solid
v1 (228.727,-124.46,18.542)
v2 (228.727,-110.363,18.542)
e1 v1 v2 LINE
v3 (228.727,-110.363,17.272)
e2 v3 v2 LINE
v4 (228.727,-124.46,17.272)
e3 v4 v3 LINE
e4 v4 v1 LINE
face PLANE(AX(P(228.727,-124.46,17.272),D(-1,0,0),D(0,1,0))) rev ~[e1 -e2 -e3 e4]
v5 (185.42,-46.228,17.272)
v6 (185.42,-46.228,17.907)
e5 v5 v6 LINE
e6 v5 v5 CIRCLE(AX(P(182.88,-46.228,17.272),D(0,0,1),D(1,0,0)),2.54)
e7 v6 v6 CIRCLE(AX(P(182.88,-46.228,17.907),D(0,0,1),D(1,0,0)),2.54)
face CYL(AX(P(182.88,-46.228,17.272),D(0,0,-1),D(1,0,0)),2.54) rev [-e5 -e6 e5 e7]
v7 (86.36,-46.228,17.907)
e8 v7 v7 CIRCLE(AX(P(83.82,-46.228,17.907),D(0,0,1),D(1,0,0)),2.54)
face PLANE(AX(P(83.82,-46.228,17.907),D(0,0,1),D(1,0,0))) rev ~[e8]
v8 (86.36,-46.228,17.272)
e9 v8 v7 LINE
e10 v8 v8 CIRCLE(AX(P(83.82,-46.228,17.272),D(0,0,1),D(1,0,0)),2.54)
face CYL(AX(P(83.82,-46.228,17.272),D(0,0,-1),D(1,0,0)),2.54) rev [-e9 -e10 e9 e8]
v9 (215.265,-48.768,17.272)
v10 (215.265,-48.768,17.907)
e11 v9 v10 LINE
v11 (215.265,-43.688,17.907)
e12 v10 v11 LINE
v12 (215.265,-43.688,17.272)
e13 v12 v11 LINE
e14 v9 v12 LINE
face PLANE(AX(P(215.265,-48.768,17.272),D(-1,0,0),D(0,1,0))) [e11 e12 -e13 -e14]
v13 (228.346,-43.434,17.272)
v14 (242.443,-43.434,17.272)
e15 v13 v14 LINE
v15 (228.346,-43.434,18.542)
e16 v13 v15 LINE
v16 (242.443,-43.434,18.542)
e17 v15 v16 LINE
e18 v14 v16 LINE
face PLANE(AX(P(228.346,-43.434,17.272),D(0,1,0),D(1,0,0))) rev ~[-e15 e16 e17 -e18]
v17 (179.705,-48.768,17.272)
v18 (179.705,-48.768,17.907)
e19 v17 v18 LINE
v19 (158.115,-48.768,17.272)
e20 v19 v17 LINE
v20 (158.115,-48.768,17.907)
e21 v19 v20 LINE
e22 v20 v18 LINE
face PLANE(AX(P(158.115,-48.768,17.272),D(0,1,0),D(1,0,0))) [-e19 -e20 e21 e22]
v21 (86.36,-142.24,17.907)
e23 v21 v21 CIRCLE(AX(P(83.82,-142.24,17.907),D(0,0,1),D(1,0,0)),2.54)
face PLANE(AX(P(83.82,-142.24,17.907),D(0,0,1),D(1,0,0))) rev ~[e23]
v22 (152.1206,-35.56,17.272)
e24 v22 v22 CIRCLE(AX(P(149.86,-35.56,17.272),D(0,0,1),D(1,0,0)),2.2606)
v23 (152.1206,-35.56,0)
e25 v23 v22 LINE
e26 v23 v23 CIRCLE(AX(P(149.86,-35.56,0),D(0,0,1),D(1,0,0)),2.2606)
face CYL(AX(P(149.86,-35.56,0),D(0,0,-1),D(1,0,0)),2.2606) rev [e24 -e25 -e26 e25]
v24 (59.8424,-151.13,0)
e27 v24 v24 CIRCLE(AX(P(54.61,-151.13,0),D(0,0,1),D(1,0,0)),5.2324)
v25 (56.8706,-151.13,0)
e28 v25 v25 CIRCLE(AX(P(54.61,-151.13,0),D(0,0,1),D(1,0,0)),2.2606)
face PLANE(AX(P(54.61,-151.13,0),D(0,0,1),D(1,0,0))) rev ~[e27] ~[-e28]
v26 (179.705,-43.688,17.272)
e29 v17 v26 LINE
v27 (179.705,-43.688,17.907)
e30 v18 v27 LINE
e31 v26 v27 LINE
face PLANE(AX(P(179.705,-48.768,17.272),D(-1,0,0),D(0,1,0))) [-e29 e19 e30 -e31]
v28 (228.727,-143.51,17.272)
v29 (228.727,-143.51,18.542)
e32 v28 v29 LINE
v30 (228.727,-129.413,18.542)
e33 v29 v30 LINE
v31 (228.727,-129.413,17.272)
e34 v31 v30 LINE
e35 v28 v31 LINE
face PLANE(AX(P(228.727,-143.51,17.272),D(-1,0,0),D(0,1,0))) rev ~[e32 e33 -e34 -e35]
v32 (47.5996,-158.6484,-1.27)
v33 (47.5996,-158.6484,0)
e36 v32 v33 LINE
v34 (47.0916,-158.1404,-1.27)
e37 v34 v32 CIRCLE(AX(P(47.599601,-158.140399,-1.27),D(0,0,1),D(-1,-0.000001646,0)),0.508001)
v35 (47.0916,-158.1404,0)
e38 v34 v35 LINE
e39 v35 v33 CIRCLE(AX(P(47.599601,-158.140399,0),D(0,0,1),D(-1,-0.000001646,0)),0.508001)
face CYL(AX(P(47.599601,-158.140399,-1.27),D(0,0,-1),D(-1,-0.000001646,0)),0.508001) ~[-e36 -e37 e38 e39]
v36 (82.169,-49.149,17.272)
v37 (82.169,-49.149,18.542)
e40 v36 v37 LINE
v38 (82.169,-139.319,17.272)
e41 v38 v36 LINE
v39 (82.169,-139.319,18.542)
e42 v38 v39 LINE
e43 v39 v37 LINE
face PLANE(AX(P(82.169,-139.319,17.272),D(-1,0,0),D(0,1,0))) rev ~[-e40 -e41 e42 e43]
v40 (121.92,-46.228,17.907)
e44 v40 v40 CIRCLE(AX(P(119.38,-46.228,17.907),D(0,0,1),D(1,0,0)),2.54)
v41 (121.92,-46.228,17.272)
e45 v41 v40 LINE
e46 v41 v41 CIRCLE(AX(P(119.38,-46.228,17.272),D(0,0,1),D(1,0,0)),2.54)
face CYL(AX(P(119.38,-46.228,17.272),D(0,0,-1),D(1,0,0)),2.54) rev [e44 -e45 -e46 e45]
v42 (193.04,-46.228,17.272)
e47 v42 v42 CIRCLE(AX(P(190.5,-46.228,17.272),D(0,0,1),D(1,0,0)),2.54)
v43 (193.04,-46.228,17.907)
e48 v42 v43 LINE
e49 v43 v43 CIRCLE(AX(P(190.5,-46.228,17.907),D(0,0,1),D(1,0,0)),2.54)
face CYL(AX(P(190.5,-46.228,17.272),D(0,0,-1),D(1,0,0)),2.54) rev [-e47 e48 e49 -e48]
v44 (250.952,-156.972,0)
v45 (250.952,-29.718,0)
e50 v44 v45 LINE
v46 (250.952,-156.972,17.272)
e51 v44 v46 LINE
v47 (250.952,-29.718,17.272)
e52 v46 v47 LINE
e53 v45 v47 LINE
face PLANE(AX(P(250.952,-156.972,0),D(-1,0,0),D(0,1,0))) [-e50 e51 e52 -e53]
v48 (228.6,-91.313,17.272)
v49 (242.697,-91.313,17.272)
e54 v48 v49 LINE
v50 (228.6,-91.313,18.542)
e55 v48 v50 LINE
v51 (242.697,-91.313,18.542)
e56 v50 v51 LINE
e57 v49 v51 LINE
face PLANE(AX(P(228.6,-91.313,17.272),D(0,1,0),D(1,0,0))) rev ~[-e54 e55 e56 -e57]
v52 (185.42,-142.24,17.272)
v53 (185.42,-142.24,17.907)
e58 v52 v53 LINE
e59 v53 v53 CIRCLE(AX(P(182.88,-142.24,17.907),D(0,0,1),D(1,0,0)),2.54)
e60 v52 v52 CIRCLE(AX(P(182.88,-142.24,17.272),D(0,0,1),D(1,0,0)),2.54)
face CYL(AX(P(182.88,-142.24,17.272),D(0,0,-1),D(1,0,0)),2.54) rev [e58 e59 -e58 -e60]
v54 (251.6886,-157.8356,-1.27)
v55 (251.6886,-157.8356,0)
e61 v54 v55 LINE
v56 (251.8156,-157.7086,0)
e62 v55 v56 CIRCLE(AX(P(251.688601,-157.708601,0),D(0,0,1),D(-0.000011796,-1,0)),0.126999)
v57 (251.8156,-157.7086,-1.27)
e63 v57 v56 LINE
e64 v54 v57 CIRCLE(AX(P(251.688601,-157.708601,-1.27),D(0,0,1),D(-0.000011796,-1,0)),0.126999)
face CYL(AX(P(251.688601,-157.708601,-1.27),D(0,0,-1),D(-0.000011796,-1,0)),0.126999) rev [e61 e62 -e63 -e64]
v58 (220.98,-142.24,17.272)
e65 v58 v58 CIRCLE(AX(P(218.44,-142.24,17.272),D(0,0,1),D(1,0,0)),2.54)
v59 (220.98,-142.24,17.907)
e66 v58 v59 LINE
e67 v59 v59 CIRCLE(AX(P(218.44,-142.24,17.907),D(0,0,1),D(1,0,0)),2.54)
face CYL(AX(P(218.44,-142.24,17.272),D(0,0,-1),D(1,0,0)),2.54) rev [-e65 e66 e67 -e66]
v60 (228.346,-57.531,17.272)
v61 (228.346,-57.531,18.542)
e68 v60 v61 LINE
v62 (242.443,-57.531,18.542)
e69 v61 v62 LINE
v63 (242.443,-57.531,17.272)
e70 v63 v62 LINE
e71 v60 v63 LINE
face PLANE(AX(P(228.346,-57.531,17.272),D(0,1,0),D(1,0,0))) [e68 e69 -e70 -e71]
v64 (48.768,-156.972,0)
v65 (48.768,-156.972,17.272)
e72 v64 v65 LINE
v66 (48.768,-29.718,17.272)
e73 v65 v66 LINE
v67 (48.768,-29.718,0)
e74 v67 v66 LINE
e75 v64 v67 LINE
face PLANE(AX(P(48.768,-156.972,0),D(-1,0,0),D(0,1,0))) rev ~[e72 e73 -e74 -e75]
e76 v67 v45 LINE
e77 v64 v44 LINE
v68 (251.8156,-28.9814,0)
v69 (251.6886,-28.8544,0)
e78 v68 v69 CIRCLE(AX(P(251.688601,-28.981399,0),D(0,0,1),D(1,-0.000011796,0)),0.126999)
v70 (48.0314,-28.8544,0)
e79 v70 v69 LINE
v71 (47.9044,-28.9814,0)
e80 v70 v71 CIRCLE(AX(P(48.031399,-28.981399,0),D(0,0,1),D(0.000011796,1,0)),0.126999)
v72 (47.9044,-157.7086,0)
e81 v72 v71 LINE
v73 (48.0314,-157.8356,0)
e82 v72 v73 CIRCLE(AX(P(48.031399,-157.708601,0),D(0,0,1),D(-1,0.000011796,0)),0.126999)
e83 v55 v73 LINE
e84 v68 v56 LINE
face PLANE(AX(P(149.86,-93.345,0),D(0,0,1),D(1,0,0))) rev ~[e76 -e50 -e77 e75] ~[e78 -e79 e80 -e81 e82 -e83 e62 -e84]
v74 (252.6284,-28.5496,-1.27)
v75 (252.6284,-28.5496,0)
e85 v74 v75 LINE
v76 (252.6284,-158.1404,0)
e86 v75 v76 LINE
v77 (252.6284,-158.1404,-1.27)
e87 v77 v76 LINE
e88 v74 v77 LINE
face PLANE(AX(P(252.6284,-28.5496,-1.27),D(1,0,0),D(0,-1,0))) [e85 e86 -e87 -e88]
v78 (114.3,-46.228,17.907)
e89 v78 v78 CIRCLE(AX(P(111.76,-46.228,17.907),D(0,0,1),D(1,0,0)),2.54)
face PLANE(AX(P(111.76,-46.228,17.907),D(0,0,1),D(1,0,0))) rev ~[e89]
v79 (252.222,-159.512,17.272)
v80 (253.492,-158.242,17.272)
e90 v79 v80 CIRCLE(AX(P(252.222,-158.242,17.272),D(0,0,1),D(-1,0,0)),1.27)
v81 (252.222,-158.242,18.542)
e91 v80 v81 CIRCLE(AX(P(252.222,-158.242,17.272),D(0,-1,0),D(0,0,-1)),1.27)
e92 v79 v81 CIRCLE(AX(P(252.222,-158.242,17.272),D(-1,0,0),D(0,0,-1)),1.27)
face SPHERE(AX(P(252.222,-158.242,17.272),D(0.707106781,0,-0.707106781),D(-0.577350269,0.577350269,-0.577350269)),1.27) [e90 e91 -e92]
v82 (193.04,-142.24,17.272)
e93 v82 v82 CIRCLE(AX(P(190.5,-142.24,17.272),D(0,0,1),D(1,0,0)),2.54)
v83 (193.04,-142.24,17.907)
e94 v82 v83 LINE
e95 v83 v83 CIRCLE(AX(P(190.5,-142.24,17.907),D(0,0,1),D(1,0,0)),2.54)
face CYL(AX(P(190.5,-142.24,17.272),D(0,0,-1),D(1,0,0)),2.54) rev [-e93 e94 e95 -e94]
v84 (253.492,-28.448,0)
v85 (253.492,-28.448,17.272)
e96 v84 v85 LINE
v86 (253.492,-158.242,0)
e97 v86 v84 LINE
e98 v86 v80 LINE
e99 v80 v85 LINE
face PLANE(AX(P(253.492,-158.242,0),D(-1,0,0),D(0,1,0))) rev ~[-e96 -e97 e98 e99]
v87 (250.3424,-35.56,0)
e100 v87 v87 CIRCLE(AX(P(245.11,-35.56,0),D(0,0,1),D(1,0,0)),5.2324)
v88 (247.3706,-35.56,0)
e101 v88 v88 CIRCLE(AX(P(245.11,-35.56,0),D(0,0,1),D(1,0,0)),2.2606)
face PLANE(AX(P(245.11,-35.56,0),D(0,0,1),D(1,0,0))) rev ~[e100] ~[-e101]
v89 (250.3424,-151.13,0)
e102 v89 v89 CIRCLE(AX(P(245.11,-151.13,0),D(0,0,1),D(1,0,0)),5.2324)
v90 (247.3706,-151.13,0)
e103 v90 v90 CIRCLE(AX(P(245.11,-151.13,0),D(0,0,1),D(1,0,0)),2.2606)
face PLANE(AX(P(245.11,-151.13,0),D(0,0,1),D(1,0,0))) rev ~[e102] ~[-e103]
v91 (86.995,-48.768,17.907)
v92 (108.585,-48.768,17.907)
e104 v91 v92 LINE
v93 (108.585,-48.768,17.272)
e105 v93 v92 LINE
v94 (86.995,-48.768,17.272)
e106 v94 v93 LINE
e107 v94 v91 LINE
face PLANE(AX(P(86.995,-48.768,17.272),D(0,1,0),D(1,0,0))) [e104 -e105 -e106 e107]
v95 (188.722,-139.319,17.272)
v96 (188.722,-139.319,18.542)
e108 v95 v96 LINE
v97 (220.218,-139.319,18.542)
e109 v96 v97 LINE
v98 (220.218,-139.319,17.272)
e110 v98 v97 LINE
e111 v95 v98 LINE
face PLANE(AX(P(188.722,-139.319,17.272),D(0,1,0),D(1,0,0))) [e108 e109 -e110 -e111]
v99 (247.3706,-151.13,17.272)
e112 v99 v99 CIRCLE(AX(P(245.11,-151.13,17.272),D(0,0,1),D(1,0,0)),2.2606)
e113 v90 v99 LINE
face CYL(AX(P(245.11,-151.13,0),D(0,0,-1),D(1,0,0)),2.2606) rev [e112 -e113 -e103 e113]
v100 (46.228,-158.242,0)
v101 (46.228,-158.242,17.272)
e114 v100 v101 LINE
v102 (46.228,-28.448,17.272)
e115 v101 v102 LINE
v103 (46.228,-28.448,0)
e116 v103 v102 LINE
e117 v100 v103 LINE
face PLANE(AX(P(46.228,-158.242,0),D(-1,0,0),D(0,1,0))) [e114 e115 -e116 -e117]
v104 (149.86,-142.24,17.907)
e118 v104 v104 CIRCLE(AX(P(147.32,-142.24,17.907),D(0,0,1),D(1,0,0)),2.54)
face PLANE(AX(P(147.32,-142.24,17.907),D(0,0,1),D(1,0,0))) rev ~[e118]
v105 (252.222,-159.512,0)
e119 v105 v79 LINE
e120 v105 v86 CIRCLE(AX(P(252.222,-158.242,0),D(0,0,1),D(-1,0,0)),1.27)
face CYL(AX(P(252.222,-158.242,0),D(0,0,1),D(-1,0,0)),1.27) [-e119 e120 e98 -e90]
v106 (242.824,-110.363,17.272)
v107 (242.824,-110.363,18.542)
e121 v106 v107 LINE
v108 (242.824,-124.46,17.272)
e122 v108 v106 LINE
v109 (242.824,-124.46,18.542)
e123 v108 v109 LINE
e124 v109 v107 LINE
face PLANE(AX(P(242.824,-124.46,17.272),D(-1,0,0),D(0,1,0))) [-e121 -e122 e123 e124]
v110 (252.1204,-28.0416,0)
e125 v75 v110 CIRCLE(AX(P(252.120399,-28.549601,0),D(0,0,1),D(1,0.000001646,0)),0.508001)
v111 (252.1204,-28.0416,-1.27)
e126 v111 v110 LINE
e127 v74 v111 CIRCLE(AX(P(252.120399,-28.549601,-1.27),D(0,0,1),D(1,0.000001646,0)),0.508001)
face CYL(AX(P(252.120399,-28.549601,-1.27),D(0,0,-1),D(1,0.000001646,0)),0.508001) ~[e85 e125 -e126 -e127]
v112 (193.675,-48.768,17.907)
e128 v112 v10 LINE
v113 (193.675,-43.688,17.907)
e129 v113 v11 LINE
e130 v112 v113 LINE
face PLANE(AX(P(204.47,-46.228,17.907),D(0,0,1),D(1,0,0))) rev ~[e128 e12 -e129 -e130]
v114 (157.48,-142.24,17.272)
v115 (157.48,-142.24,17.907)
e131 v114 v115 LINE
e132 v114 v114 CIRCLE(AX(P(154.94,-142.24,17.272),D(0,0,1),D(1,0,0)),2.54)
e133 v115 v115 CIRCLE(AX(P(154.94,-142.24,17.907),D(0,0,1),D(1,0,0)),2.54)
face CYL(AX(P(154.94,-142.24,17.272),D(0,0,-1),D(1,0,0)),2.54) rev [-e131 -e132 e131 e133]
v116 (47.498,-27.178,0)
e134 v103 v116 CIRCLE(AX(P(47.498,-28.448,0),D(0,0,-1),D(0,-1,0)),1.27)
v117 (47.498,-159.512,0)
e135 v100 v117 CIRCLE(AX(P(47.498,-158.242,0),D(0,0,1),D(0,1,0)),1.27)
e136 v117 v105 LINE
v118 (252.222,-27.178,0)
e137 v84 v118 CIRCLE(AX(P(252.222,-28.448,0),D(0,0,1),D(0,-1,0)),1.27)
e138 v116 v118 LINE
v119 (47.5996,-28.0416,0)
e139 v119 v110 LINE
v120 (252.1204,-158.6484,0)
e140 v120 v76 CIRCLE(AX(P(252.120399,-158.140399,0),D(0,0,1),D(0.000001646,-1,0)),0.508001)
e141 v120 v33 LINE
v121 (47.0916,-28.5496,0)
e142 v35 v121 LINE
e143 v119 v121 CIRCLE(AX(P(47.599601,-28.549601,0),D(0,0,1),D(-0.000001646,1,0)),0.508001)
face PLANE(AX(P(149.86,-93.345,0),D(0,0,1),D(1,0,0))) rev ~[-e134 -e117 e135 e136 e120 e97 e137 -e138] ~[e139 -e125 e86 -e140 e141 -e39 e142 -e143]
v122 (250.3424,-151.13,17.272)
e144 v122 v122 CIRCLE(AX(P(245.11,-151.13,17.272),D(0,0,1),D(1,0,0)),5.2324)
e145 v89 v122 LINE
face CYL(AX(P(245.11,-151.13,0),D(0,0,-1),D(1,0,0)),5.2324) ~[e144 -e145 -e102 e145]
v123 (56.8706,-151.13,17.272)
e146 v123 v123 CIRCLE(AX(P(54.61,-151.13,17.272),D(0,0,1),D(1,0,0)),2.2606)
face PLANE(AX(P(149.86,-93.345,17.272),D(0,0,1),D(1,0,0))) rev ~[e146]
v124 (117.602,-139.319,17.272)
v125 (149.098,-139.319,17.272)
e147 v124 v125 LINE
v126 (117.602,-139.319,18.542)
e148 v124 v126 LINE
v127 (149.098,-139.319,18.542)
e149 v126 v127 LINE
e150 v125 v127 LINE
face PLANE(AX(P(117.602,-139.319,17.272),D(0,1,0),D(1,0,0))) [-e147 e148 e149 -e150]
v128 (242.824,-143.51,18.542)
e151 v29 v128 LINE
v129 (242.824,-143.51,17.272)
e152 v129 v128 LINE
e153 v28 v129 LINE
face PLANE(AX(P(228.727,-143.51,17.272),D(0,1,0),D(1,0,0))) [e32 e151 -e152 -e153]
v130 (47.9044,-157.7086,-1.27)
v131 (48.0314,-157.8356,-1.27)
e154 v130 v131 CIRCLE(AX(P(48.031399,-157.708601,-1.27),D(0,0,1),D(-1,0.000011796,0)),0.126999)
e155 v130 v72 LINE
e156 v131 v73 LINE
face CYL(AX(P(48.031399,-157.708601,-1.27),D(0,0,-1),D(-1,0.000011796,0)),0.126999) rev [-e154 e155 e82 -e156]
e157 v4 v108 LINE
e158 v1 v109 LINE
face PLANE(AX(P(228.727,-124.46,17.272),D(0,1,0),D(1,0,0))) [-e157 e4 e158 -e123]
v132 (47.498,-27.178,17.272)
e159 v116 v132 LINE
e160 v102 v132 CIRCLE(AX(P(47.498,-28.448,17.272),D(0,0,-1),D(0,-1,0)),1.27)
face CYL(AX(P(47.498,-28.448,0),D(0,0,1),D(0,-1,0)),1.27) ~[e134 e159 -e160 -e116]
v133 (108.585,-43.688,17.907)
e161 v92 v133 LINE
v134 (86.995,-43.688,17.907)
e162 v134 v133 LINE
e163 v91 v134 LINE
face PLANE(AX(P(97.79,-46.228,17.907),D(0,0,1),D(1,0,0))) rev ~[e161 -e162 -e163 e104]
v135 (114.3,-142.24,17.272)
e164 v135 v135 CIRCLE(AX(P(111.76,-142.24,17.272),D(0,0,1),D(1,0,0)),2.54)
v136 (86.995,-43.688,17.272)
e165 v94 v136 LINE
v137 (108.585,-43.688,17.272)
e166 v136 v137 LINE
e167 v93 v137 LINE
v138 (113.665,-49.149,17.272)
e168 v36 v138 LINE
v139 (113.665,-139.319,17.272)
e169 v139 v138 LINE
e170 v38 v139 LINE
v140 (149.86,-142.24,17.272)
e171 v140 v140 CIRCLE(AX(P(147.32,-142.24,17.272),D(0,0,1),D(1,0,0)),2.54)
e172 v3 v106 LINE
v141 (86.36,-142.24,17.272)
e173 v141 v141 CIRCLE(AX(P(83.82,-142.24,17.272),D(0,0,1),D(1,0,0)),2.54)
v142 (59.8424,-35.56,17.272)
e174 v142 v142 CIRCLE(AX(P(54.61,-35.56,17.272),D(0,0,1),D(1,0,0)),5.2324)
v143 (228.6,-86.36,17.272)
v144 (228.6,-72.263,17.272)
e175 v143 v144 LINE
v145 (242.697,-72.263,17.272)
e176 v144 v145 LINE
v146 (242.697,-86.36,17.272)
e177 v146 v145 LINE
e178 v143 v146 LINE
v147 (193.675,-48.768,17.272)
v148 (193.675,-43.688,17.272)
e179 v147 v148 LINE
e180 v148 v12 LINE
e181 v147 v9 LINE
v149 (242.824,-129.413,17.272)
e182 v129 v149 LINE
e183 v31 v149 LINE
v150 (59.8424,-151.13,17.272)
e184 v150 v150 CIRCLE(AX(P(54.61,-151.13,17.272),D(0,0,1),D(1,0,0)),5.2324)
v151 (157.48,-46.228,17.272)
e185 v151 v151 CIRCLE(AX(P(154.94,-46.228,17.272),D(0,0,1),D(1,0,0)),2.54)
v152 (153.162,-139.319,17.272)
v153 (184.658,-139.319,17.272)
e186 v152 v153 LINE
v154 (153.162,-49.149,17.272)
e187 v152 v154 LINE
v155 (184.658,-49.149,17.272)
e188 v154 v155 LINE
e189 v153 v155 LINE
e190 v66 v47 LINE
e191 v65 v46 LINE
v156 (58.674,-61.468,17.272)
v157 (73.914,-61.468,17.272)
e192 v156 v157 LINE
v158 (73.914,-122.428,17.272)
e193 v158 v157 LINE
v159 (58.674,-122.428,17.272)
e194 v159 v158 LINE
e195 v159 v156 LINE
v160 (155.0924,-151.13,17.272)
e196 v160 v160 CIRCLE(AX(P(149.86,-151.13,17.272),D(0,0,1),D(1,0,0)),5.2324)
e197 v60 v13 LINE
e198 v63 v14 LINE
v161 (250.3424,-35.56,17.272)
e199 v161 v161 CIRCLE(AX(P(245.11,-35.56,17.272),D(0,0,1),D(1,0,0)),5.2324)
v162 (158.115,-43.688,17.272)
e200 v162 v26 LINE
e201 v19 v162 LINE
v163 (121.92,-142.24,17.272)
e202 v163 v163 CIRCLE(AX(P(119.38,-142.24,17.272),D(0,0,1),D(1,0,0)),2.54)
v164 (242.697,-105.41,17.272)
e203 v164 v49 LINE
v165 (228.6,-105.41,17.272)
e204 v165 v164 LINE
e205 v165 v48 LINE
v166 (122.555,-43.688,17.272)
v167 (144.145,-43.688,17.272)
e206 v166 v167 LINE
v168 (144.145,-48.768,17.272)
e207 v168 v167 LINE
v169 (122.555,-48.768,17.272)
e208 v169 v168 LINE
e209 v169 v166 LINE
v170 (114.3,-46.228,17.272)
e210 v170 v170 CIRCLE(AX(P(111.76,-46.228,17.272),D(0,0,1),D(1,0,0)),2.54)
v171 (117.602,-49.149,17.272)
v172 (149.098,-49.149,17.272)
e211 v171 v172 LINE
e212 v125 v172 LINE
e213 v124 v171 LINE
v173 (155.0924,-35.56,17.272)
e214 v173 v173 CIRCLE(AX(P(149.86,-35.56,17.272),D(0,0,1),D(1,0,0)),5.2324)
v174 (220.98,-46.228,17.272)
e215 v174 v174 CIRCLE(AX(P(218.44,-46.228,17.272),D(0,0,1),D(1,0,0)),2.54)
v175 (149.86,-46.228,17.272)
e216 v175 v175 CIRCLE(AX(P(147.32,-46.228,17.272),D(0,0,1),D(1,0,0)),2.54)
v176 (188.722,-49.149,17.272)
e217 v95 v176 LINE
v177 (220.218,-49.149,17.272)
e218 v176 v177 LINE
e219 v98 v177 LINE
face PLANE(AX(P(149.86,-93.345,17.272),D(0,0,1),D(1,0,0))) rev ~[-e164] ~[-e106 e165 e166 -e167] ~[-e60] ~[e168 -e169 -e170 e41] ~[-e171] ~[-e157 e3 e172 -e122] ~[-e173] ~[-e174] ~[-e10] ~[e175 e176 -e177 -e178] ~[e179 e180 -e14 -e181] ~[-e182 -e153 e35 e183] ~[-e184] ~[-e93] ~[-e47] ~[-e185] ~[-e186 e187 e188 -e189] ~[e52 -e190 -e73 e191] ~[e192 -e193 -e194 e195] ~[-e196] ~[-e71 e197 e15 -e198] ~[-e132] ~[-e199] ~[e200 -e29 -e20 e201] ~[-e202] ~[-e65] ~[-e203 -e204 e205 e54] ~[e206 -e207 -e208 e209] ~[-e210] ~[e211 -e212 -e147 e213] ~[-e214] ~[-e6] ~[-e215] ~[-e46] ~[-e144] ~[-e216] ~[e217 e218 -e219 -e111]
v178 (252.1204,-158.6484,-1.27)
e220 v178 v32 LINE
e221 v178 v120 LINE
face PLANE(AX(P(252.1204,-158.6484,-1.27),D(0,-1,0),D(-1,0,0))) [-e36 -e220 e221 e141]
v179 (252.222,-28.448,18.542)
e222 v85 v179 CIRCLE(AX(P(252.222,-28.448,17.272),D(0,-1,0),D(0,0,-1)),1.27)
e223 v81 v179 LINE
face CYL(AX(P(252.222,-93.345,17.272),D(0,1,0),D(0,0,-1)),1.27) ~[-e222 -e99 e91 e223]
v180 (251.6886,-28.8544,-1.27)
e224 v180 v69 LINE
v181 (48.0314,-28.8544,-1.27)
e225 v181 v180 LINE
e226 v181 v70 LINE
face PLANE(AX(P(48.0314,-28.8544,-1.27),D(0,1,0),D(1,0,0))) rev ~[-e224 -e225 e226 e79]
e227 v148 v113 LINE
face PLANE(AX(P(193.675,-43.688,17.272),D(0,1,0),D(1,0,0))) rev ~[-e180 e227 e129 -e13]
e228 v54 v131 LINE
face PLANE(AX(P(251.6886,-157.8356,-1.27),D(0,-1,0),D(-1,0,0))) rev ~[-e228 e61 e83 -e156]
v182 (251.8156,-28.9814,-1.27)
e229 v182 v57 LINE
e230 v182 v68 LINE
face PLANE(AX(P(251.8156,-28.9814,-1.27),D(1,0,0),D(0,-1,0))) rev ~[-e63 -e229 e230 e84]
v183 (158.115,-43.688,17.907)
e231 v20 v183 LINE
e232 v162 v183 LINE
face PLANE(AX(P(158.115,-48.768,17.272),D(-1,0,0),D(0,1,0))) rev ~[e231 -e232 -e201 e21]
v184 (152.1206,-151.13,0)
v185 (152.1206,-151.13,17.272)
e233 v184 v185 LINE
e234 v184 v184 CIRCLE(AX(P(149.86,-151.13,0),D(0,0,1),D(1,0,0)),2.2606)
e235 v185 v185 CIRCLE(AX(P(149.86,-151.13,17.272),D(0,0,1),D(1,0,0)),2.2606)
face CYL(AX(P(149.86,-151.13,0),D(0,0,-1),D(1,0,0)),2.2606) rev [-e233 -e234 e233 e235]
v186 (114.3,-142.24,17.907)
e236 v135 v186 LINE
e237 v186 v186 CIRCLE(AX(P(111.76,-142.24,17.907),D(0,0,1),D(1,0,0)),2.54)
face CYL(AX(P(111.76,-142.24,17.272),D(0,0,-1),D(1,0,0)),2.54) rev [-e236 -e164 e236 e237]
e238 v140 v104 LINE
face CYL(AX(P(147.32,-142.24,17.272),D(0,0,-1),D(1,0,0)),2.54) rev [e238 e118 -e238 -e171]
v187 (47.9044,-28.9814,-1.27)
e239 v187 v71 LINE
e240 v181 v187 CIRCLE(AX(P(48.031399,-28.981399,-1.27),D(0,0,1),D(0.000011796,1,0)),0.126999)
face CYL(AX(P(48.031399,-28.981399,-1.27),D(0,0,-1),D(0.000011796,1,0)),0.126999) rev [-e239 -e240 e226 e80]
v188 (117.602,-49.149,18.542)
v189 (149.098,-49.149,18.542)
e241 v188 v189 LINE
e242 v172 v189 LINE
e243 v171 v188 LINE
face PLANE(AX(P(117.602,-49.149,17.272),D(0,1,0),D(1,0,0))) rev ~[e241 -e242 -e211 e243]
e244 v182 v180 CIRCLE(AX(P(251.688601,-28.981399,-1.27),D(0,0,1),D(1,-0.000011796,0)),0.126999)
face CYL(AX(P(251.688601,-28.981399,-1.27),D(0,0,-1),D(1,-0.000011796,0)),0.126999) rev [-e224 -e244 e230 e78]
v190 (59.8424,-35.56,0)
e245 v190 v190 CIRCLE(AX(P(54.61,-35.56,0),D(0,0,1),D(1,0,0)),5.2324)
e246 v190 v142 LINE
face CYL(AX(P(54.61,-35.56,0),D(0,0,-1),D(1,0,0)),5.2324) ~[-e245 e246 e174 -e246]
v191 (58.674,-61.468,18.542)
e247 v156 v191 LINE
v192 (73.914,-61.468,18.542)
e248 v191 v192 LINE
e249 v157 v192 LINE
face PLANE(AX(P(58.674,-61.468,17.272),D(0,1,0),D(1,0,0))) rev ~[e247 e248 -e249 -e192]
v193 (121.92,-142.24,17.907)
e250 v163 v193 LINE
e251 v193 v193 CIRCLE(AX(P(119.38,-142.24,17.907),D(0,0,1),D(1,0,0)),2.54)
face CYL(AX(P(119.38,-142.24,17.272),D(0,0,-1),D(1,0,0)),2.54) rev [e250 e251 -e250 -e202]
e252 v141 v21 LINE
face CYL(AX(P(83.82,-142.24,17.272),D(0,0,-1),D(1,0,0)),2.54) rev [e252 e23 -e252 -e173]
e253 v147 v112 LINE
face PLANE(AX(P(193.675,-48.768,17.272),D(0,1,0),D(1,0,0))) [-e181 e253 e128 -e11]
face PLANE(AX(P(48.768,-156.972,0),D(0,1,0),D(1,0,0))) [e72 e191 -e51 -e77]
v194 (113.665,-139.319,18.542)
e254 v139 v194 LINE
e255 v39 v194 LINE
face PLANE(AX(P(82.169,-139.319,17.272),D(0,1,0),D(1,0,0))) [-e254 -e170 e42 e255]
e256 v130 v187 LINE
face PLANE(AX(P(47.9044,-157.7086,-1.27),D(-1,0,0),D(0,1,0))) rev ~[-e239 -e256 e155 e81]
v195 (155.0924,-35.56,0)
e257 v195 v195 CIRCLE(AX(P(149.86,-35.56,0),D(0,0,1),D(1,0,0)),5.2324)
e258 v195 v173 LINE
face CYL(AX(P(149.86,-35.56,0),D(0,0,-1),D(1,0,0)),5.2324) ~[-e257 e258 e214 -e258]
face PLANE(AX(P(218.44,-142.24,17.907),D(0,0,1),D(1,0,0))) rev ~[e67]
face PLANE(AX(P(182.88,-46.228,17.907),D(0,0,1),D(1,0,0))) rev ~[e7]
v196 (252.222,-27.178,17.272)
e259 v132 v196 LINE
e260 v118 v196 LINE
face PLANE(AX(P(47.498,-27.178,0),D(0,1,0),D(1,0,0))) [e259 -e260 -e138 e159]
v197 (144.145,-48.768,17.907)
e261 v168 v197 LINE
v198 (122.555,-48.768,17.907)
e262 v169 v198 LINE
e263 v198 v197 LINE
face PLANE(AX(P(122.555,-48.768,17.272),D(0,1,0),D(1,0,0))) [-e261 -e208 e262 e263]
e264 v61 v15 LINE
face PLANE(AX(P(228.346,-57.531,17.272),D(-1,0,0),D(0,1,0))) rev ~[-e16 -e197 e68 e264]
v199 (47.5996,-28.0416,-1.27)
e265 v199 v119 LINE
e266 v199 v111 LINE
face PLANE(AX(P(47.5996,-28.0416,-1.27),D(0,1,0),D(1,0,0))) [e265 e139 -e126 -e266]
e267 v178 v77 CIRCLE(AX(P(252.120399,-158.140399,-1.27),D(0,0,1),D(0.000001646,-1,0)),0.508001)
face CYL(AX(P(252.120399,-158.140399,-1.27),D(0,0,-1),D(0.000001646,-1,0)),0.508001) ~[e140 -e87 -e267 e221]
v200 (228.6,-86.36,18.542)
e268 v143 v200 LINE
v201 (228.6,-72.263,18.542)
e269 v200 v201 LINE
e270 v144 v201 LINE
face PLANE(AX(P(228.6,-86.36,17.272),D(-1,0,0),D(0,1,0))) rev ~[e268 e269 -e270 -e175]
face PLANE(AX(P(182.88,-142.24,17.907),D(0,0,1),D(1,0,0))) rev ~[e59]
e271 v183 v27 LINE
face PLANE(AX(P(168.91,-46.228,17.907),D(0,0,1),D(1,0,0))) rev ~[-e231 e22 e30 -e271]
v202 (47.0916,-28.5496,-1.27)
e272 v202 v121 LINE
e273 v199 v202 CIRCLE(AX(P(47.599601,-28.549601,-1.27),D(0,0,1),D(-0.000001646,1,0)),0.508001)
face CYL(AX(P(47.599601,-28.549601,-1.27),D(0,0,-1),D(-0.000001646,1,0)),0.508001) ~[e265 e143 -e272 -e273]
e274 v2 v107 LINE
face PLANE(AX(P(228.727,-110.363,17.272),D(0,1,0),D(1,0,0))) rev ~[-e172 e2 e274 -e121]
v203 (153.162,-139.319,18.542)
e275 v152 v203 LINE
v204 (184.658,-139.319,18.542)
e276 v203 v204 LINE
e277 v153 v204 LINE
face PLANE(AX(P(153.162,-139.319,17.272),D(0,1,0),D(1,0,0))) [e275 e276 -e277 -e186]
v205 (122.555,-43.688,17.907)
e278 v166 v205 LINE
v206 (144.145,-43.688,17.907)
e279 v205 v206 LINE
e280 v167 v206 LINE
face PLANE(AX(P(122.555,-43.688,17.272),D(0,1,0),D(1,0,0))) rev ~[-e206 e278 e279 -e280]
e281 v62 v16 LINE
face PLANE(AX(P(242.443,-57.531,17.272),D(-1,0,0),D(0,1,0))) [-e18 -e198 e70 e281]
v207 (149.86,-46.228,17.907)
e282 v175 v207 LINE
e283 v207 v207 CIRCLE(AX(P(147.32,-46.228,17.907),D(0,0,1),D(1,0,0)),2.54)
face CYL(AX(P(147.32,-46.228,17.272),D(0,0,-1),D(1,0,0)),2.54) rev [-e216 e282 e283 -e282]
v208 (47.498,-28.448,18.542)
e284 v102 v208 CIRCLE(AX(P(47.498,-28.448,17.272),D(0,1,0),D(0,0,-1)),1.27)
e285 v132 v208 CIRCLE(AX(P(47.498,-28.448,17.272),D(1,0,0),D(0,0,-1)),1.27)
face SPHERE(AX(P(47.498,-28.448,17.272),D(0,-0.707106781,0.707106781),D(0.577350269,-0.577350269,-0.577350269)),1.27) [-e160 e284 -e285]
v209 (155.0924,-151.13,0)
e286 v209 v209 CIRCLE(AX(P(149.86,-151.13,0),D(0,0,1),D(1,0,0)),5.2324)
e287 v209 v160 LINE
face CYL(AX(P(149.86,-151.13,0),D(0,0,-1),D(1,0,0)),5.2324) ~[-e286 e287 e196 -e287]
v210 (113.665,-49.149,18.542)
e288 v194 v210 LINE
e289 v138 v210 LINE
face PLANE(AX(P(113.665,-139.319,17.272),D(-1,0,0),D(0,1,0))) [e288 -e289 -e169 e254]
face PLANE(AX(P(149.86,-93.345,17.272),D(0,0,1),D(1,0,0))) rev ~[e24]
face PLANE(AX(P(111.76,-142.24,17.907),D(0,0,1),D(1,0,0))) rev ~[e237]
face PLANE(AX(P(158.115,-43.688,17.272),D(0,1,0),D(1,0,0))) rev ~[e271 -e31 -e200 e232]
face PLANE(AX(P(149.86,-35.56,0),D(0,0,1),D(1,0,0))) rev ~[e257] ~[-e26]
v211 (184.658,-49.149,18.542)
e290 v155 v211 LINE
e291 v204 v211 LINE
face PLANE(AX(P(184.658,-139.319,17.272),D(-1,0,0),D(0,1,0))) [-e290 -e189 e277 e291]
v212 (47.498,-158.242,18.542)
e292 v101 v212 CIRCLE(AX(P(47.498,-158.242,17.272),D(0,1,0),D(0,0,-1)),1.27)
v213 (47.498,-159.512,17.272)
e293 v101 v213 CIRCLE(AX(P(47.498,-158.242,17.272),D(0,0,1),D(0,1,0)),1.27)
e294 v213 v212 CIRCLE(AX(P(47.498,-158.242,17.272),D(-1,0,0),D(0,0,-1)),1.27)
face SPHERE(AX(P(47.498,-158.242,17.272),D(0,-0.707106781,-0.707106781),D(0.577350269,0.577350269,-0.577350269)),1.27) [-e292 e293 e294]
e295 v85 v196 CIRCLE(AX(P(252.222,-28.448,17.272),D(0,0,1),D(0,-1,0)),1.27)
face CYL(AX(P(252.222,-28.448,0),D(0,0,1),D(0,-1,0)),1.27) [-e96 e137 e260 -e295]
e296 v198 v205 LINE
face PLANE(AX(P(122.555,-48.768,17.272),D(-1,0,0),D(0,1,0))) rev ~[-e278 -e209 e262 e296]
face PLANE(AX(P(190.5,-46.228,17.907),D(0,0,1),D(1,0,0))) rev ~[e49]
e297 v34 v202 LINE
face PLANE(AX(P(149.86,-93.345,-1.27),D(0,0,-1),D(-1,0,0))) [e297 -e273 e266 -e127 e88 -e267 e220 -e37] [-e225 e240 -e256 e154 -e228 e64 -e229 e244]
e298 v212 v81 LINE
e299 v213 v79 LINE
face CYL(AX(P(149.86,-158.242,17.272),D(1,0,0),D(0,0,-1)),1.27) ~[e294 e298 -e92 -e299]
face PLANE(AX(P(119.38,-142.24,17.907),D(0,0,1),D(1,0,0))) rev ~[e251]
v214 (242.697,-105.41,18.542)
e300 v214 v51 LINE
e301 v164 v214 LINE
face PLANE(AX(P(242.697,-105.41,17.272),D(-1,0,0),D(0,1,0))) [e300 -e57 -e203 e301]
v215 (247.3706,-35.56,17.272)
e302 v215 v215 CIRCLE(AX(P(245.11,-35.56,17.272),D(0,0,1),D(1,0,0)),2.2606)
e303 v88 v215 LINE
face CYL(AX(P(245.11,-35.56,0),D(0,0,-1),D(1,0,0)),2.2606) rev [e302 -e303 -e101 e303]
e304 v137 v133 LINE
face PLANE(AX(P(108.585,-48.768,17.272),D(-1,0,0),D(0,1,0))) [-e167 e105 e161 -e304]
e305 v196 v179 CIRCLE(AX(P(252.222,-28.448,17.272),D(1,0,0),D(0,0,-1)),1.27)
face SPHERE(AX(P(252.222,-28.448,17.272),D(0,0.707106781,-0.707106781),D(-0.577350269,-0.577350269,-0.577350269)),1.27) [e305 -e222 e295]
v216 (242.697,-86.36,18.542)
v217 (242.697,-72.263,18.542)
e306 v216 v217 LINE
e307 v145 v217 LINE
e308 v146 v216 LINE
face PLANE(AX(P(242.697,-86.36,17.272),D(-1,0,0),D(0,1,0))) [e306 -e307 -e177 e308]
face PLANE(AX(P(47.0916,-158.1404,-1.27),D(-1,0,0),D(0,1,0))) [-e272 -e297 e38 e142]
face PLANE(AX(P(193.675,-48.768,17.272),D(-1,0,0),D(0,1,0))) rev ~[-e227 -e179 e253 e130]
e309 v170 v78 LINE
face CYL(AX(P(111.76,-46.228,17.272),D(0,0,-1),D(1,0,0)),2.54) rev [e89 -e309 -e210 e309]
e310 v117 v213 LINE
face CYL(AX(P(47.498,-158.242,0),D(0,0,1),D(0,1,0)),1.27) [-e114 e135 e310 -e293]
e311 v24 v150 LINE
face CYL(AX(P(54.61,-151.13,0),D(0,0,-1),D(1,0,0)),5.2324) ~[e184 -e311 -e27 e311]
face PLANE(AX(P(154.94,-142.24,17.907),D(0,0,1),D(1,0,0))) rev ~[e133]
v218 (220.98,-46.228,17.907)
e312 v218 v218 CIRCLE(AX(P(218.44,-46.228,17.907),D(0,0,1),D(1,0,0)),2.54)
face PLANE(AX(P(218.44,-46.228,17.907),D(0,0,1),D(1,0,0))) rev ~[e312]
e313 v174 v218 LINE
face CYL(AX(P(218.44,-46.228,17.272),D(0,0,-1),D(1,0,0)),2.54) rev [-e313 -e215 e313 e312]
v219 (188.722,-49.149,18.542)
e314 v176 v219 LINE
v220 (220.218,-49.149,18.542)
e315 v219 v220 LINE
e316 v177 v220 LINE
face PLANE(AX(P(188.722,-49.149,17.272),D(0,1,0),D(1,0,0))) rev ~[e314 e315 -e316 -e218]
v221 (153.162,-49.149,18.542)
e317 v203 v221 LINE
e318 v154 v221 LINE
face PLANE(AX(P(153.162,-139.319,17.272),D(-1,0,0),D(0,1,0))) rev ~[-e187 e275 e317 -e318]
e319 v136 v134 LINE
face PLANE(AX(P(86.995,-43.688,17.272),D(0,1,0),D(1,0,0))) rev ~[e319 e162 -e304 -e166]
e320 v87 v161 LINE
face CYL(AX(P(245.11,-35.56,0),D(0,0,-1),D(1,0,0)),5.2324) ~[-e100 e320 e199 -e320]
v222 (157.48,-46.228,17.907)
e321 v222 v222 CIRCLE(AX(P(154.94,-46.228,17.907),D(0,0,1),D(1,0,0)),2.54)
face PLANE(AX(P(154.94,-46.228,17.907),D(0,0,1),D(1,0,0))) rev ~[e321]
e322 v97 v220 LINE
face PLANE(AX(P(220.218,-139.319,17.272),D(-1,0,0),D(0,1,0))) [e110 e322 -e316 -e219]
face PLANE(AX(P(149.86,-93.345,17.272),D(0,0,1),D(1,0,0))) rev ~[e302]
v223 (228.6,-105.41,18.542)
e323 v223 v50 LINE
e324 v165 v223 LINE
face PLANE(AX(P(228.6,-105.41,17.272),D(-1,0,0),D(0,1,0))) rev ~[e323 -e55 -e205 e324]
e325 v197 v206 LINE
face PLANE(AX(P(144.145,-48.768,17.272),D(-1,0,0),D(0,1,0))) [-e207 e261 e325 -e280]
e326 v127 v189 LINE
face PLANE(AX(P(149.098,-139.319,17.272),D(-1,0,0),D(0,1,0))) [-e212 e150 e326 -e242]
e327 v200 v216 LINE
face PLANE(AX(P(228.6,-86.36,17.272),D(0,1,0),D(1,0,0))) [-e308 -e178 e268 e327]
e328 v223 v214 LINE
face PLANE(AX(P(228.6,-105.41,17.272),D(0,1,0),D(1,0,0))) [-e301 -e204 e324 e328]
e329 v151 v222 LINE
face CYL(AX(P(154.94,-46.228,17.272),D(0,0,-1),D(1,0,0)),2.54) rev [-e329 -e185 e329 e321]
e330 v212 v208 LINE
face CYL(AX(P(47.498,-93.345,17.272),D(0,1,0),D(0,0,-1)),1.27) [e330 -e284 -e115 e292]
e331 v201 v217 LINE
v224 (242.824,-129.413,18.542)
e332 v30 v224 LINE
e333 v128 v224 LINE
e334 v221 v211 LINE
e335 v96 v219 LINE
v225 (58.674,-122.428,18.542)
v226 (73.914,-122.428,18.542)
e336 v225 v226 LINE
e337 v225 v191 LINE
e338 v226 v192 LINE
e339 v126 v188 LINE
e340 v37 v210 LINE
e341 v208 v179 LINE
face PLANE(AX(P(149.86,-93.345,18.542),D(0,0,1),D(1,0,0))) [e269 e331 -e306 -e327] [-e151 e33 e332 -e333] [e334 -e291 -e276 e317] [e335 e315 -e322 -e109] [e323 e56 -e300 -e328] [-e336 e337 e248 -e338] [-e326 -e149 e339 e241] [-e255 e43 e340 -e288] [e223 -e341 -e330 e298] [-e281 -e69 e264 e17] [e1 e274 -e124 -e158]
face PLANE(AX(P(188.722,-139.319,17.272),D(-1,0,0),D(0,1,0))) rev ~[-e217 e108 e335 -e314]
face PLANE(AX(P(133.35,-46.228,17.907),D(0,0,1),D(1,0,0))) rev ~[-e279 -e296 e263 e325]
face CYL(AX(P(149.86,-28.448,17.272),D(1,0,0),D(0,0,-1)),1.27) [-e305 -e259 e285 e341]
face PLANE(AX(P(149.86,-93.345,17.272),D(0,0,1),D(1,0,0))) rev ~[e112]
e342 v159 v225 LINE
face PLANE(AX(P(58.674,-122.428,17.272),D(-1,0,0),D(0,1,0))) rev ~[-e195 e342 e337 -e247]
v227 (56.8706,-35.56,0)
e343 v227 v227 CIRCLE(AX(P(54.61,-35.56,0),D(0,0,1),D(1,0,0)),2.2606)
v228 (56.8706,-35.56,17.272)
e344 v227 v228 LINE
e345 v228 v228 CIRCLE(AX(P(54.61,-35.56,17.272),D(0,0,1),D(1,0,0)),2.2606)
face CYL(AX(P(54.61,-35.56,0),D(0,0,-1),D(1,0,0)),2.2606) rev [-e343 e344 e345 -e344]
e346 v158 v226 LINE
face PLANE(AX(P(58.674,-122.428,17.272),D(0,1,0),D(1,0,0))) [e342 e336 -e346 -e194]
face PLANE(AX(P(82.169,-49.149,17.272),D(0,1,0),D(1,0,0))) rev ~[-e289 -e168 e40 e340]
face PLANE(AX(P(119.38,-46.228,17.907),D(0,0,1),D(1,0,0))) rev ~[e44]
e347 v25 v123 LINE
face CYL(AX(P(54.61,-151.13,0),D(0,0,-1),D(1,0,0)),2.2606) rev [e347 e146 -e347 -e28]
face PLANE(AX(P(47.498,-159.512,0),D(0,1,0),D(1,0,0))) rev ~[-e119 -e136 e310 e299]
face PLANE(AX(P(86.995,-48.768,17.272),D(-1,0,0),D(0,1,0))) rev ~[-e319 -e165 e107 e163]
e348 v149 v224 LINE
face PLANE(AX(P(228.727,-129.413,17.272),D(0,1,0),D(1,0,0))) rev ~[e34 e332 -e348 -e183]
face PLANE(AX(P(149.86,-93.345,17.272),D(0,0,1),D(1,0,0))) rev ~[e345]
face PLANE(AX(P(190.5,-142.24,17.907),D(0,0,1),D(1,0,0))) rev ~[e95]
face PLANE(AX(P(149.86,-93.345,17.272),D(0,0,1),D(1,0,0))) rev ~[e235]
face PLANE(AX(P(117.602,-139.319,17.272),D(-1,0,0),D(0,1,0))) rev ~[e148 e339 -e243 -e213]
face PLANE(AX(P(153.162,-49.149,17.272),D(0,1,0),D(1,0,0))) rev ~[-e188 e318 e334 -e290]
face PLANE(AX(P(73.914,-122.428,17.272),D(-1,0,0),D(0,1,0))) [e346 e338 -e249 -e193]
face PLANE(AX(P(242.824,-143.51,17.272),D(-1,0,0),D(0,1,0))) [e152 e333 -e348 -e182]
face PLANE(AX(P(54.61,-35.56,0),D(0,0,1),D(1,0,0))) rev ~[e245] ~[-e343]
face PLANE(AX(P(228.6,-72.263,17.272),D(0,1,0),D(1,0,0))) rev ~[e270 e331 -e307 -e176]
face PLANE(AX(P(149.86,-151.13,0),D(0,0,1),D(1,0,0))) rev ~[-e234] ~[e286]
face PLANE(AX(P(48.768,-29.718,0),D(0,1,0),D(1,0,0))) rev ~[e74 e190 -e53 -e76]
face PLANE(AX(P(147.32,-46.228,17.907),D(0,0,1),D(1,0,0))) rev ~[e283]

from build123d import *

# Parameters (mm, degrees)
EXTRUDE001_DEPTH  = 1.27
TUBE001_R         = 5.2324
TUBE001_R_2       = 2.2606
TUBE001_DEPTH     = 17.272
TUBE002_R         = 5.2324
TUBE002_R_2       = 2.2606
TUBE002_DEPTH     = 17.272
TUBE003_R         = 5.2324
TUBE003_R_2       = 2.2606
TUBE003_DEPTH     = 17.272
TUBE013_R         = 5.2324
TUBE013_R_2       = 2.2606
TUBE013_DEPTH     = 17.272
TUBE012_R         = 5.2324
TUBE012_R_2       = 2.2606
TUBE012_DEPTH     = 17.272
TUBE_R            = 5.2324
TUBE_R_2          = 2.2606
TUBE_DEPTH        = 17.272
BOX013_W          = 14.097
BOX013_H          = 14.097
BOX013_DEPTH      = 1.27
BOX012_W          = 14.097
BOX012_H          = 14.097
BOX012_DEPTH      = 1.27
BOX011_W          = 14.097
BOX011_H          = 14.097
BOX011_DEPTH      = 1.27
BOX010_W          = 14.097
BOX010_H          = 14.097
BOX010_DEPTH      = 1.27
BOX014_W          = 14.097
BOX014_H          = 14.097
BOX014_DEPTH      = 1.27
BOX009_W          = 15.24
BOX009_H          = 60.96
BOX009_DEPTH      = 1.27
BOX005_W          = 31.496
BOX005_H          = 90.17
BOX005_DEPTH      = 1.27
BOX006_W          = 31.496
BOX006_H          = 90.17
BOX006_DEPTH      = 1.27
BOX007_W          = 31.496
BOX007_H          = 90.17
BOX007_DEPTH      = 1.27
BOX008_W          = 31.496
BOX008_H          = 90.17
BOX008_DEPTH      = 1.27
BOX001_W          = 21.59
BOX001_H          = 5.08
BOX001_DEPTH      = 0.635
BOX002_W          = 21.59
BOX002_H          = 5.08
BOX002_DEPTH      = 0.635
BOX003_W          = 21.59
BOX003_H          = 5.08
BOX003_DEPTH      = 0.635
BOX004_W          = 21.59
BOX004_H          = 5.08
BOX004_DEPTH      = 0.635
CYLINDER_R        = 2.54
CYLINDER_DEPTH    = 0.635
CYLINDER001_R     = 2.54
CYLINDER001_DEPTH = 0.635
CYLINDER002_R     = 2.54
CYLINDER002_DEPTH = 0.635
CYLINDER003_R     = 2.54
CYLINDER003_DEPTH = 0.635
CYLINDER004_R     = 2.54
CYLINDER004_DEPTH = 0.635
CYLINDER005_R     = 2.54
CYLINDER005_DEPTH = 0.635
CYLINDER006_R     = 2.54
CYLINDER006_DEPTH = 0.635
CYLINDER007_R     = 2.54
CYLINDER007_DEPTH = 0.635
CYLINDER008_R     = 2.54
CYLINDER008_DEPTH = 0.635
CYLINDER009_R     = 2.54
CYLINDER009_DEPTH = 0.635
CYLINDER010_R     = 2.54
CYLINDER010_DEPTH = 0.635
CYLINDER011_R     = 2.54
CYLINDER011_DEPTH = 0.635
CYLINDER012_R     = 2.54
CYLINDER012_DEPTH = 0.635
CYLINDER013_R     = 2.54
CYLINDER013_DEPTH = 0.635
CYLINDER014_R     = 2.54
CYLINDER014_DEPTH = 0.635
CYLINDER015_R     = 2.54
CYLINDER015_DEPTH = 0.635
BOX_W             = 204.724
BOX_H             = 129.794
BOX_DEPTH         = 17.272
THICKNESS_T       = 1.27
BOX016_W          = 202.184
BOX016_H          = 127.254
BOX016_DEPTH      = 17.272
BOX015_W          = 204.724
BOX015_H          = 129.794
BOX015_DEPTH      = 17.272


with BuildPart() as extrude001:
    # Sketch → Extrude001 (new body)
    with BuildSketch(Plane.XY):
        with BuildLine():
            Line((47.5996, -28.0416), (252.1204, -28.0416))
            ThreePointArc((252.6284, -28.5496), (252.47961, -28.19039), (252.1204, -28.0416))
            Line((252.6284, -28.5496), (252.6284, -158.1404))
            ThreePointArc((252.1204, -158.6484), (252.47961, -158.49961), (252.6284, -158.1404))
            Line((252.1204, -158.6484), (47.5996, -158.6484))
            ThreePointArc((47.0916, -158.1404), (47.24039, -158.49961), (47.5996, -158.6484))
            Line((47.0916, -158.1404), (47.0916, -28.5496))
            ThreePointArc((47.5996, -28.0416), (47.24039, -28.19039), (47.0916, -28.5496))
        make_face()
        with BuildLine():
            Line((48.0314, -28.8544), (251.6886, -28.8544))
            ThreePointArc((251.8156, -28.9814), (251.778403, -28.891597), (251.6886, -28.8544))
            Line((251.8156, -28.9814), (251.8156, -157.7086))
            ThreePointArc((251.6886, -157.8356), (251.778403, -157.798403), (251.8156, -157.7086))
            Line((251.6886, -157.8356), (48.0314, -157.8356))
            ThreePointArc((47.9044, -157.7086), (47.941597, -157.798403), (48.0314, -157.8356))
            Line((47.9044, -157.7086), (47.9044, -28.9814))
            ThreePointArc((48.0314, -28.8544), (47.941597, -28.891597), (47.9044, -28.9814))
        make_face(mode=Mode.SUBTRACT)
    extrude(amount=EXTRUDE001_DEPTH)


with BuildPart() as extrude001_1:
    # Extrude001 placement: moved
    add(extrude001.part.moved(Location((0, 0, -1.27))))


with BuildPart() as tube001:
    # Tube001 → Tube001 (new body)
    with BuildSketch(Plane(origin=(245.11, -35.56, 0), x_dir=(1, 0, 0), z_dir=(0, 0, 1))):
        Circle(TUBE001_R)
        Circle(TUBE001_R_2, mode=Mode.SUBTRACT)
    extrude(amount=TUBE001_DEPTH)


with BuildPart() as tube002:
    # Tube002 → Tube002 (new body)
    with BuildSketch(Plane(origin=(54.61, -151.13, 0), x_dir=(1, 0, 0), z_dir=(0, 0, 1))):
        Circle(TUBE002_R)
        Circle(TUBE002_R_2, mode=Mode.SUBTRACT)
    extrude(amount=TUBE002_DEPTH)


with BuildPart() as tube003:
    # Tube003 → Tube003 (new body)
    with BuildSketch(Plane(origin=(245.11, -151.13, 0), x_dir=(1, 0, 0), z_dir=(0, 0, 1))):
        Circle(TUBE003_R)
        Circle(TUBE003_R_2, mode=Mode.SUBTRACT)
    extrude(amount=TUBE003_DEPTH)


with BuildPart() as tube013:
    # Tube013 → Tube013 (new body)
    with BuildSketch(Plane(origin=(149.86, -151.13, 0), x_dir=(1, 0, 0), z_dir=(0, 0, 1))):
        Circle(TUBE013_R)
        Circle(TUBE013_R_2, mode=Mode.SUBTRACT)
    extrude(amount=TUBE013_DEPTH)


with BuildPart() as tube012:
    # Tube012 → Tube012 (new body)
    with BuildSketch(Plane(origin=(149.86, -35.56, 0), x_dir=(1, 0, 0), z_dir=(0, 0, 1))):
        Circle(TUBE012_R)
        Circle(TUBE012_R_2, mode=Mode.SUBTRACT)
    extrude(amount=TUBE012_DEPTH)


with BuildPart() as fusion005:
    # Tube → Tube (new body)
    with BuildSketch(Plane(origin=(54.61, -35.56, 0), x_dir=(1, 0, 0), z_dir=(0, 0, 1))):
        Circle(TUBE_R)
        Circle(TUBE_R_2, mode=Mode.SUBTRACT)
    extrude(amount=TUBE_DEPTH)

    # Fusion005: union Tube001, Tube002, Tube003, Tube013, Tube012
    add(tube001.part)
    add(tube002.part)
    add(tube003.part)
    add(tube013.part)
    add(tube012.part)


with BuildPart() as cube013:
    # Box013 → Box013 (new body)
    with BuildSketch(Plane(origin=(228.346, -57.531, 17.272), x_dir=(1, 0, 0), z_dir=(0, 0, 1))):
        with Locations((7.0485, 7.0485)):
            Rectangle(BOX013_W, BOX013_H)
    extrude(amount=BOX013_DEPTH)


with BuildPart() as cube012:
    # Box012 → Box012 (new body)
    with BuildSketch(Plane(origin=(228.6, -97.536, 0), x_dir=(1, 0, 0), z_dir=(0, 0, 1))):
        with Locations((7.0485, 7.0485)):
            Rectangle(BOX012_W, BOX012_H)
    extrude(amount=BOX012_DEPTH)


with BuildPart() as cube011:
    # Box011 → Box011 (new body)
    with BuildSketch(Plane(origin=(228.473, -78.486, 0), x_dir=(1, 0, 0), z_dir=(0, 0, 1))):
        with Locations((7.0485, 7.0485)):
            Rectangle(BOX011_W, BOX011_H)
    extrude(amount=BOX011_DEPTH)


with BuildPart() as cube010:
    # Box010 → Box010 (new body)
    with BuildSketch(Plane(origin=(228.473, -59.436, 0), x_dir=(1, 0, 0), z_dir=(0, 0, 1))):
        with Locations((7.0485, 7.0485)):
            Rectangle(BOX010_W, BOX010_H)
    extrude(amount=BOX010_DEPTH)


with BuildPart() as fusion003:
    # Box014 → Box014 (new body)
    with BuildSketch(Plane(origin=(228.6, -116.586, 0), x_dir=(1, 0, 0), z_dir=(0, 0, 1))):
        with Locations((7.0485, 7.0485)):
            Rectangle(BOX014_W, BOX014_H)
    extrude(amount=BOX014_DEPTH)

    # Fusion003: union Cube012, Cube011, Cube010
    add(cube012.part)
    add(cube011.part)
    add(cube010.part)


with BuildPart() as fusion003_1:
    # Fusion003 placement: moved
    add(fusion003.part.moved(Location((0.127, -26.924, 17.272))))


with BuildPart() as cube009:
    # Box009 → Box009 (new body)
    with BuildSketch(Plane(origin=(58.674, -122.428, 17.272), x_dir=(1, 0, 0), z_dir=(0, 0, 1))):
        with Locations((7.62, 30.48)):
            Rectangle(BOX009_W, BOX009_H)
    extrude(amount=BOX009_DEPTH)


with BuildPart() as cube005:
    # Box005 → Box005 (new body)
    with BuildSketch(Plane(origin=(82.169, -139.319, 0), x_dir=(1, 0, 0), z_dir=(0, 0, 1))):
        with Locations((15.748, 45.085)):
            Rectangle(BOX005_W, BOX005_H)
    extrude(amount=BOX005_DEPTH)


with BuildPart() as cube006:
    # Box006 → Box006 (new body)
    with BuildSketch(Plane(origin=(117.602, -139.319, 0), x_dir=(1, 0, 0), z_dir=(0, 0, 1))):
        with Locations((15.748, 45.085)):
            Rectangle(BOX006_W, BOX006_H)
    extrude(amount=BOX006_DEPTH)


with BuildPart() as cube007:
    # Box007 → Box007 (new body)
    with BuildSketch(Plane(origin=(153.162, -139.319, 0), x_dir=(1, 0, 0), z_dir=(0, 0, 1))):
        with Locations((15.748, 45.085)):
            Rectangle(BOX007_W, BOX007_H)
    extrude(amount=BOX007_DEPTH)


with BuildPart() as fusion002:
    # Box008 → Box008 (new body)
    with BuildSketch(Plane(origin=(188.722, -139.319, 0), x_dir=(1, 0, 0), z_dir=(0, 0, 1))):
        with Locations((15.748, 45.085)):
            Rectangle(BOX008_W, BOX008_H)
    extrude(amount=BOX008_DEPTH)

    # Fusion002: union Cube005, Cube006, Cube007
    add(cube005.part)
    add(cube006.part)
    add(cube007.part)


with BuildPart() as fusion002_1:
    # Fusion002 placement: moved
    add(fusion002.part.moved(Location((0, 0, 17.272))))


with BuildPart() as cube001:
    # Box001 → Box001 (new body)
    with BuildSketch(Plane(origin=(86.995, -48.768, 0), x_dir=(1, 0, 0), z_dir=(0, 0, 1))):
        with Locations((10.795, 2.54)):
            Rectangle(BOX001_W, BOX001_H)
    extrude(amount=BOX001_DEPTH)


with BuildPart() as cube002:
    # Box002 → Box002 (new body)
    with BuildSketch(Plane(origin=(122.555, -48.768, 0), x_dir=(1, 0, 0), z_dir=(0, 0, 1))):
        with Locations((10.795, 2.54)):
            Rectangle(BOX002_W, BOX002_H)
    extrude(amount=BOX002_DEPTH)


with BuildPart() as cube003:
    # Box003 → Box003 (new body)
    with BuildSketch(Plane(origin=(158.115, -48.768, 0), x_dir=(1, 0, 0), z_dir=(0, 0, 1))):
        with Locations((10.795, 2.54)):
            Rectangle(BOX003_W, BOX003_H)
    extrude(amount=BOX003_DEPTH)


with BuildPart() as fusion001:
    # Box004 → Box004 (new body)
    with BuildSketch(Plane(origin=(193.675, -48.768, 0), x_dir=(1, 0, 0), z_dir=(0, 0, 1))):
        with Locations((10.795, 2.54)):
            Rectangle(BOX004_W, BOX004_H)
    extrude(amount=BOX004_DEPTH)

    # Fusion001: union Cube001, Cube002, Cube003
    add(cube001.part)
    add(cube002.part)
    add(cube003.part)


with BuildPart() as fusion001_1:
    # Fusion001 placement: moved
    add(fusion001.part.moved(Location((0, 0, 17.272))))


with BuildPart() as cylinder:
    # Cylinder → Cylinder (new body)
    with BuildSketch(Plane(origin=(83.82, -46.228, 17.272), x_dir=(1, 0, 0), z_dir=(0, 0, 1))):
        Circle(CYLINDER_R)
    extrude(amount=CYLINDER_DEPTH)


with BuildPart() as cylinder001:
    # Cylinder001 → Cylinder001 (new body)
    with BuildSketch(Plane(origin=(111.76, -46.228, 17.272), x_dir=(1, 0, 0), z_dir=(0, 0, 1))):
        Circle(CYLINDER001_R)
    extrude(amount=CYLINDER001_DEPTH)


with BuildPart() as cylinder002:
    # Cylinder002 → Cylinder002 (new body)
    with BuildSketch(Plane(origin=(119.38, -46.228, 17.272), x_dir=(1, 0, 0), z_dir=(0, 0, 1))):
        Circle(CYLINDER002_R)
    extrude(amount=CYLINDER002_DEPTH)


with BuildPart() as cylinder003:
    # Cylinder003 → Cylinder003 (new body)
    with BuildSketch(Plane(origin=(147.32, -46.228, 17.272), x_dir=(1, 0, 0), z_dir=(0, 0, 1))):
        Circle(CYLINDER003_R)
    extrude(amount=CYLINDER003_DEPTH)


with BuildPart() as cylinder004:
    # Cylinder004 → Cylinder004 (new body)
    with BuildSketch(Plane(origin=(154.94, -46.228, 17.272), x_dir=(1, 0, 0), z_dir=(0, 0, 1))):
        Circle(CYLINDER004_R)
    extrude(amount=CYLINDER004_DEPTH)


with BuildPart() as cylinder005:
    # Cylinder005 → Cylinder005 (new body)
    with BuildSketch(Plane(origin=(182.88, -46.228, 17.272), x_dir=(1, 0, 0), z_dir=(0, 0, 1))):
        Circle(CYLINDER005_R)
    extrude(amount=CYLINDER005_DEPTH)


with BuildPart() as cylinder006:
    # Cylinder006 → Cylinder006 (new body)
    with BuildSketch(Plane(origin=(190.5, -46.228, 17.272), x_dir=(1, 0, 0), z_dir=(0, 0, 1))):
        Circle(CYLINDER006_R)
    extrude(amount=CYLINDER006_DEPTH)


with BuildPart() as cylinder007:
    # Cylinder007 → Cylinder007 (new body)
    with BuildSketch(Plane(origin=(218.44, -46.228, 17.272), x_dir=(1, 0, 0), z_dir=(0, 0, 1))):
        Circle(CYLINDER007_R)
    extrude(amount=CYLINDER007_DEPTH)


with BuildPart() as cylinder008:
    # Cylinder008 → Cylinder008 (new body)
    with BuildSketch(Plane(origin=(83.82, -142.24, 17.272), x_dir=(1, 0, 0), z_dir=(0, 0, 1))):
        Circle(CYLINDER008_R)
    extrude(amount=CYLINDER008_DEPTH)


with BuildPart() as cylinder009:
    # Cylinder009 → Cylinder009 (new body)
    with BuildSketch(Plane(origin=(111.76, -142.24, 17.272), x_dir=(1, 0, 0), z_dir=(0, 0, 1))):
        Circle(CYLINDER009_R)
    extrude(amount=CYLINDER009_DEPTH)


with BuildPart() as cylinder010:
    # Cylinder010 → Cylinder010 (new body)
    with BuildSketch(Plane(origin=(119.38, -142.24, 17.272), x_dir=(1, 0, 0), z_dir=(0, 0, 1))):
        Circle(CYLINDER010_R)
    extrude(amount=CYLINDER010_DEPTH)


with BuildPart() as cylinder011:
    # Cylinder011 → Cylinder011 (new body)
    with BuildSketch(Plane(origin=(147.32, -142.24, 17.272), x_dir=(1, 0, 0), z_dir=(0, 0, 1))):
        Circle(CYLINDER011_R)
    extrude(amount=CYLINDER011_DEPTH)


with BuildPart() as cylinder012:
    # Cylinder012 → Cylinder012 (new body)
    with BuildSketch(Plane(origin=(154.94, -142.24, 17.272), x_dir=(1, 0, 0), z_dir=(0, 0, 1))):
        Circle(CYLINDER012_R)
    extrude(amount=CYLINDER012_DEPTH)


with BuildPart() as cylinder013:
    # Cylinder013 → Cylinder013 (new body)
    with BuildSketch(Plane(origin=(182.88, -142.24, 17.272), x_dir=(1, 0, 0), z_dir=(0, 0, 1))):
        Circle(CYLINDER013_R)
    extrude(amount=CYLINDER013_DEPTH)


with BuildPart() as cylinder014:
    # Cylinder014 → Cylinder014 (new body)
    with BuildSketch(Plane(origin=(190.5, -142.24, 17.272), x_dir=(1, 0, 0), z_dir=(0, 0, 1))):
        Circle(CYLINDER014_R)
    extrude(amount=CYLINDER014_DEPTH)


with BuildPart() as fusion:
    # Cylinder015 → Cylinder015 (new body)
    with BuildSketch(Plane(origin=(218.44, -142.24, 17.272), x_dir=(1, 0, 0), z_dir=(0, 0, 1))):
        Circle(CYLINDER015_R)
    extrude(amount=CYLINDER015_DEPTH)

    # Fusion: union Cylinder, Cylinder001, Cylinder002, Cylinder003, Cylinder004, Cylinder005, Cylinder006, Cylinder007, Cylinder008, Cylinder009, Cylinder010, Cylinder011, Cylinder012, Cylinder013, Cylinder014
    add(cylinder.part)
    add(cylinder001.part)
    add(cylinder002.part)
    add(cylinder003.part)
    add(cylinder004.part)
    add(cylinder005.part)
    add(cylinder006.part)
    add(cylinder007.part)
    add(cylinder008.part)
    add(cylinder009.part)
    add(cylinder010.part)
    add(cylinder011.part)
    add(cylinder012.part)
    add(cylinder013.part)
    add(cylinder014.part)


with BuildPart() as cut008:
    # Box → Box (new body)
    with BuildSketch(Plane(origin=(47.498, -158.242, 0), x_dir=(1, 0, 0), z_dir=(0, 0, 1))):
        with Locations((102.362, 64.897)):
            Rectangle(BOX_W, BOX_H)
    extrude(amount=BOX_DEPTH)

    # Thickness
    thickness_openings = [cut008.faces().sort_by_distance(p)[0] for p in [
        (149.86, -93.345, 0),
    ]]
    offset(amount=THICKNESS_T, openings=thickness_openings)

    # Cut: cut Fusion
    add(fusion.part, mode=Mode.SUBTRACT)

    # Cut001: cut Fusion001
    add(fusion001_1.part, mode=Mode.SUBTRACT)

    # Cut002: cut Fusion002
    add(fusion002_1.part, mode=Mode.SUBTRACT)

    # Cut003: cut Cube009
    add(cube009.part, mode=Mode.SUBTRACT)

    # Cut007: cut Fusion003
    add(fusion003_1.part, mode=Mode.SUBTRACT)

    # Cut008: cut Cube013
    add(cube013.part, mode=Mode.SUBTRACT)


with BuildPart() as cube016:
    # Box016 → Box016 (new body)
    with BuildSketch(Plane(origin=(48.768, -156.972, 0), x_dir=(1, 0, 0), z_dir=(0, 0, 1))):
        with Locations((101.092, 63.627)):
            Rectangle(BOX016_W, BOX016_H)
    extrude(amount=BOX016_DEPTH)


with BuildPart() as top:
    # Box015 → Box015 (new body)
    with BuildSketch(Plane(origin=(47.498, -158.242, 0), x_dir=(1, 0, 0), z_dir=(0, 0, 1))):
        with Locations((102.362, 64.897)):
            Rectangle(BOX015_W, BOX015_H)
    extrude(amount=BOX015_DEPTH)

    # Cut006: cut Cube016
    add(cube016.part, mode=Mode.SUBTRACT)

    # Fusion006: union Cut008
    add(cut008.part)

    # Fusion007: union Fusion005
    add(fusion005.part)

    # Fusion018: union Extrude001
    add(extrude001_1.part)


solid = top.part
